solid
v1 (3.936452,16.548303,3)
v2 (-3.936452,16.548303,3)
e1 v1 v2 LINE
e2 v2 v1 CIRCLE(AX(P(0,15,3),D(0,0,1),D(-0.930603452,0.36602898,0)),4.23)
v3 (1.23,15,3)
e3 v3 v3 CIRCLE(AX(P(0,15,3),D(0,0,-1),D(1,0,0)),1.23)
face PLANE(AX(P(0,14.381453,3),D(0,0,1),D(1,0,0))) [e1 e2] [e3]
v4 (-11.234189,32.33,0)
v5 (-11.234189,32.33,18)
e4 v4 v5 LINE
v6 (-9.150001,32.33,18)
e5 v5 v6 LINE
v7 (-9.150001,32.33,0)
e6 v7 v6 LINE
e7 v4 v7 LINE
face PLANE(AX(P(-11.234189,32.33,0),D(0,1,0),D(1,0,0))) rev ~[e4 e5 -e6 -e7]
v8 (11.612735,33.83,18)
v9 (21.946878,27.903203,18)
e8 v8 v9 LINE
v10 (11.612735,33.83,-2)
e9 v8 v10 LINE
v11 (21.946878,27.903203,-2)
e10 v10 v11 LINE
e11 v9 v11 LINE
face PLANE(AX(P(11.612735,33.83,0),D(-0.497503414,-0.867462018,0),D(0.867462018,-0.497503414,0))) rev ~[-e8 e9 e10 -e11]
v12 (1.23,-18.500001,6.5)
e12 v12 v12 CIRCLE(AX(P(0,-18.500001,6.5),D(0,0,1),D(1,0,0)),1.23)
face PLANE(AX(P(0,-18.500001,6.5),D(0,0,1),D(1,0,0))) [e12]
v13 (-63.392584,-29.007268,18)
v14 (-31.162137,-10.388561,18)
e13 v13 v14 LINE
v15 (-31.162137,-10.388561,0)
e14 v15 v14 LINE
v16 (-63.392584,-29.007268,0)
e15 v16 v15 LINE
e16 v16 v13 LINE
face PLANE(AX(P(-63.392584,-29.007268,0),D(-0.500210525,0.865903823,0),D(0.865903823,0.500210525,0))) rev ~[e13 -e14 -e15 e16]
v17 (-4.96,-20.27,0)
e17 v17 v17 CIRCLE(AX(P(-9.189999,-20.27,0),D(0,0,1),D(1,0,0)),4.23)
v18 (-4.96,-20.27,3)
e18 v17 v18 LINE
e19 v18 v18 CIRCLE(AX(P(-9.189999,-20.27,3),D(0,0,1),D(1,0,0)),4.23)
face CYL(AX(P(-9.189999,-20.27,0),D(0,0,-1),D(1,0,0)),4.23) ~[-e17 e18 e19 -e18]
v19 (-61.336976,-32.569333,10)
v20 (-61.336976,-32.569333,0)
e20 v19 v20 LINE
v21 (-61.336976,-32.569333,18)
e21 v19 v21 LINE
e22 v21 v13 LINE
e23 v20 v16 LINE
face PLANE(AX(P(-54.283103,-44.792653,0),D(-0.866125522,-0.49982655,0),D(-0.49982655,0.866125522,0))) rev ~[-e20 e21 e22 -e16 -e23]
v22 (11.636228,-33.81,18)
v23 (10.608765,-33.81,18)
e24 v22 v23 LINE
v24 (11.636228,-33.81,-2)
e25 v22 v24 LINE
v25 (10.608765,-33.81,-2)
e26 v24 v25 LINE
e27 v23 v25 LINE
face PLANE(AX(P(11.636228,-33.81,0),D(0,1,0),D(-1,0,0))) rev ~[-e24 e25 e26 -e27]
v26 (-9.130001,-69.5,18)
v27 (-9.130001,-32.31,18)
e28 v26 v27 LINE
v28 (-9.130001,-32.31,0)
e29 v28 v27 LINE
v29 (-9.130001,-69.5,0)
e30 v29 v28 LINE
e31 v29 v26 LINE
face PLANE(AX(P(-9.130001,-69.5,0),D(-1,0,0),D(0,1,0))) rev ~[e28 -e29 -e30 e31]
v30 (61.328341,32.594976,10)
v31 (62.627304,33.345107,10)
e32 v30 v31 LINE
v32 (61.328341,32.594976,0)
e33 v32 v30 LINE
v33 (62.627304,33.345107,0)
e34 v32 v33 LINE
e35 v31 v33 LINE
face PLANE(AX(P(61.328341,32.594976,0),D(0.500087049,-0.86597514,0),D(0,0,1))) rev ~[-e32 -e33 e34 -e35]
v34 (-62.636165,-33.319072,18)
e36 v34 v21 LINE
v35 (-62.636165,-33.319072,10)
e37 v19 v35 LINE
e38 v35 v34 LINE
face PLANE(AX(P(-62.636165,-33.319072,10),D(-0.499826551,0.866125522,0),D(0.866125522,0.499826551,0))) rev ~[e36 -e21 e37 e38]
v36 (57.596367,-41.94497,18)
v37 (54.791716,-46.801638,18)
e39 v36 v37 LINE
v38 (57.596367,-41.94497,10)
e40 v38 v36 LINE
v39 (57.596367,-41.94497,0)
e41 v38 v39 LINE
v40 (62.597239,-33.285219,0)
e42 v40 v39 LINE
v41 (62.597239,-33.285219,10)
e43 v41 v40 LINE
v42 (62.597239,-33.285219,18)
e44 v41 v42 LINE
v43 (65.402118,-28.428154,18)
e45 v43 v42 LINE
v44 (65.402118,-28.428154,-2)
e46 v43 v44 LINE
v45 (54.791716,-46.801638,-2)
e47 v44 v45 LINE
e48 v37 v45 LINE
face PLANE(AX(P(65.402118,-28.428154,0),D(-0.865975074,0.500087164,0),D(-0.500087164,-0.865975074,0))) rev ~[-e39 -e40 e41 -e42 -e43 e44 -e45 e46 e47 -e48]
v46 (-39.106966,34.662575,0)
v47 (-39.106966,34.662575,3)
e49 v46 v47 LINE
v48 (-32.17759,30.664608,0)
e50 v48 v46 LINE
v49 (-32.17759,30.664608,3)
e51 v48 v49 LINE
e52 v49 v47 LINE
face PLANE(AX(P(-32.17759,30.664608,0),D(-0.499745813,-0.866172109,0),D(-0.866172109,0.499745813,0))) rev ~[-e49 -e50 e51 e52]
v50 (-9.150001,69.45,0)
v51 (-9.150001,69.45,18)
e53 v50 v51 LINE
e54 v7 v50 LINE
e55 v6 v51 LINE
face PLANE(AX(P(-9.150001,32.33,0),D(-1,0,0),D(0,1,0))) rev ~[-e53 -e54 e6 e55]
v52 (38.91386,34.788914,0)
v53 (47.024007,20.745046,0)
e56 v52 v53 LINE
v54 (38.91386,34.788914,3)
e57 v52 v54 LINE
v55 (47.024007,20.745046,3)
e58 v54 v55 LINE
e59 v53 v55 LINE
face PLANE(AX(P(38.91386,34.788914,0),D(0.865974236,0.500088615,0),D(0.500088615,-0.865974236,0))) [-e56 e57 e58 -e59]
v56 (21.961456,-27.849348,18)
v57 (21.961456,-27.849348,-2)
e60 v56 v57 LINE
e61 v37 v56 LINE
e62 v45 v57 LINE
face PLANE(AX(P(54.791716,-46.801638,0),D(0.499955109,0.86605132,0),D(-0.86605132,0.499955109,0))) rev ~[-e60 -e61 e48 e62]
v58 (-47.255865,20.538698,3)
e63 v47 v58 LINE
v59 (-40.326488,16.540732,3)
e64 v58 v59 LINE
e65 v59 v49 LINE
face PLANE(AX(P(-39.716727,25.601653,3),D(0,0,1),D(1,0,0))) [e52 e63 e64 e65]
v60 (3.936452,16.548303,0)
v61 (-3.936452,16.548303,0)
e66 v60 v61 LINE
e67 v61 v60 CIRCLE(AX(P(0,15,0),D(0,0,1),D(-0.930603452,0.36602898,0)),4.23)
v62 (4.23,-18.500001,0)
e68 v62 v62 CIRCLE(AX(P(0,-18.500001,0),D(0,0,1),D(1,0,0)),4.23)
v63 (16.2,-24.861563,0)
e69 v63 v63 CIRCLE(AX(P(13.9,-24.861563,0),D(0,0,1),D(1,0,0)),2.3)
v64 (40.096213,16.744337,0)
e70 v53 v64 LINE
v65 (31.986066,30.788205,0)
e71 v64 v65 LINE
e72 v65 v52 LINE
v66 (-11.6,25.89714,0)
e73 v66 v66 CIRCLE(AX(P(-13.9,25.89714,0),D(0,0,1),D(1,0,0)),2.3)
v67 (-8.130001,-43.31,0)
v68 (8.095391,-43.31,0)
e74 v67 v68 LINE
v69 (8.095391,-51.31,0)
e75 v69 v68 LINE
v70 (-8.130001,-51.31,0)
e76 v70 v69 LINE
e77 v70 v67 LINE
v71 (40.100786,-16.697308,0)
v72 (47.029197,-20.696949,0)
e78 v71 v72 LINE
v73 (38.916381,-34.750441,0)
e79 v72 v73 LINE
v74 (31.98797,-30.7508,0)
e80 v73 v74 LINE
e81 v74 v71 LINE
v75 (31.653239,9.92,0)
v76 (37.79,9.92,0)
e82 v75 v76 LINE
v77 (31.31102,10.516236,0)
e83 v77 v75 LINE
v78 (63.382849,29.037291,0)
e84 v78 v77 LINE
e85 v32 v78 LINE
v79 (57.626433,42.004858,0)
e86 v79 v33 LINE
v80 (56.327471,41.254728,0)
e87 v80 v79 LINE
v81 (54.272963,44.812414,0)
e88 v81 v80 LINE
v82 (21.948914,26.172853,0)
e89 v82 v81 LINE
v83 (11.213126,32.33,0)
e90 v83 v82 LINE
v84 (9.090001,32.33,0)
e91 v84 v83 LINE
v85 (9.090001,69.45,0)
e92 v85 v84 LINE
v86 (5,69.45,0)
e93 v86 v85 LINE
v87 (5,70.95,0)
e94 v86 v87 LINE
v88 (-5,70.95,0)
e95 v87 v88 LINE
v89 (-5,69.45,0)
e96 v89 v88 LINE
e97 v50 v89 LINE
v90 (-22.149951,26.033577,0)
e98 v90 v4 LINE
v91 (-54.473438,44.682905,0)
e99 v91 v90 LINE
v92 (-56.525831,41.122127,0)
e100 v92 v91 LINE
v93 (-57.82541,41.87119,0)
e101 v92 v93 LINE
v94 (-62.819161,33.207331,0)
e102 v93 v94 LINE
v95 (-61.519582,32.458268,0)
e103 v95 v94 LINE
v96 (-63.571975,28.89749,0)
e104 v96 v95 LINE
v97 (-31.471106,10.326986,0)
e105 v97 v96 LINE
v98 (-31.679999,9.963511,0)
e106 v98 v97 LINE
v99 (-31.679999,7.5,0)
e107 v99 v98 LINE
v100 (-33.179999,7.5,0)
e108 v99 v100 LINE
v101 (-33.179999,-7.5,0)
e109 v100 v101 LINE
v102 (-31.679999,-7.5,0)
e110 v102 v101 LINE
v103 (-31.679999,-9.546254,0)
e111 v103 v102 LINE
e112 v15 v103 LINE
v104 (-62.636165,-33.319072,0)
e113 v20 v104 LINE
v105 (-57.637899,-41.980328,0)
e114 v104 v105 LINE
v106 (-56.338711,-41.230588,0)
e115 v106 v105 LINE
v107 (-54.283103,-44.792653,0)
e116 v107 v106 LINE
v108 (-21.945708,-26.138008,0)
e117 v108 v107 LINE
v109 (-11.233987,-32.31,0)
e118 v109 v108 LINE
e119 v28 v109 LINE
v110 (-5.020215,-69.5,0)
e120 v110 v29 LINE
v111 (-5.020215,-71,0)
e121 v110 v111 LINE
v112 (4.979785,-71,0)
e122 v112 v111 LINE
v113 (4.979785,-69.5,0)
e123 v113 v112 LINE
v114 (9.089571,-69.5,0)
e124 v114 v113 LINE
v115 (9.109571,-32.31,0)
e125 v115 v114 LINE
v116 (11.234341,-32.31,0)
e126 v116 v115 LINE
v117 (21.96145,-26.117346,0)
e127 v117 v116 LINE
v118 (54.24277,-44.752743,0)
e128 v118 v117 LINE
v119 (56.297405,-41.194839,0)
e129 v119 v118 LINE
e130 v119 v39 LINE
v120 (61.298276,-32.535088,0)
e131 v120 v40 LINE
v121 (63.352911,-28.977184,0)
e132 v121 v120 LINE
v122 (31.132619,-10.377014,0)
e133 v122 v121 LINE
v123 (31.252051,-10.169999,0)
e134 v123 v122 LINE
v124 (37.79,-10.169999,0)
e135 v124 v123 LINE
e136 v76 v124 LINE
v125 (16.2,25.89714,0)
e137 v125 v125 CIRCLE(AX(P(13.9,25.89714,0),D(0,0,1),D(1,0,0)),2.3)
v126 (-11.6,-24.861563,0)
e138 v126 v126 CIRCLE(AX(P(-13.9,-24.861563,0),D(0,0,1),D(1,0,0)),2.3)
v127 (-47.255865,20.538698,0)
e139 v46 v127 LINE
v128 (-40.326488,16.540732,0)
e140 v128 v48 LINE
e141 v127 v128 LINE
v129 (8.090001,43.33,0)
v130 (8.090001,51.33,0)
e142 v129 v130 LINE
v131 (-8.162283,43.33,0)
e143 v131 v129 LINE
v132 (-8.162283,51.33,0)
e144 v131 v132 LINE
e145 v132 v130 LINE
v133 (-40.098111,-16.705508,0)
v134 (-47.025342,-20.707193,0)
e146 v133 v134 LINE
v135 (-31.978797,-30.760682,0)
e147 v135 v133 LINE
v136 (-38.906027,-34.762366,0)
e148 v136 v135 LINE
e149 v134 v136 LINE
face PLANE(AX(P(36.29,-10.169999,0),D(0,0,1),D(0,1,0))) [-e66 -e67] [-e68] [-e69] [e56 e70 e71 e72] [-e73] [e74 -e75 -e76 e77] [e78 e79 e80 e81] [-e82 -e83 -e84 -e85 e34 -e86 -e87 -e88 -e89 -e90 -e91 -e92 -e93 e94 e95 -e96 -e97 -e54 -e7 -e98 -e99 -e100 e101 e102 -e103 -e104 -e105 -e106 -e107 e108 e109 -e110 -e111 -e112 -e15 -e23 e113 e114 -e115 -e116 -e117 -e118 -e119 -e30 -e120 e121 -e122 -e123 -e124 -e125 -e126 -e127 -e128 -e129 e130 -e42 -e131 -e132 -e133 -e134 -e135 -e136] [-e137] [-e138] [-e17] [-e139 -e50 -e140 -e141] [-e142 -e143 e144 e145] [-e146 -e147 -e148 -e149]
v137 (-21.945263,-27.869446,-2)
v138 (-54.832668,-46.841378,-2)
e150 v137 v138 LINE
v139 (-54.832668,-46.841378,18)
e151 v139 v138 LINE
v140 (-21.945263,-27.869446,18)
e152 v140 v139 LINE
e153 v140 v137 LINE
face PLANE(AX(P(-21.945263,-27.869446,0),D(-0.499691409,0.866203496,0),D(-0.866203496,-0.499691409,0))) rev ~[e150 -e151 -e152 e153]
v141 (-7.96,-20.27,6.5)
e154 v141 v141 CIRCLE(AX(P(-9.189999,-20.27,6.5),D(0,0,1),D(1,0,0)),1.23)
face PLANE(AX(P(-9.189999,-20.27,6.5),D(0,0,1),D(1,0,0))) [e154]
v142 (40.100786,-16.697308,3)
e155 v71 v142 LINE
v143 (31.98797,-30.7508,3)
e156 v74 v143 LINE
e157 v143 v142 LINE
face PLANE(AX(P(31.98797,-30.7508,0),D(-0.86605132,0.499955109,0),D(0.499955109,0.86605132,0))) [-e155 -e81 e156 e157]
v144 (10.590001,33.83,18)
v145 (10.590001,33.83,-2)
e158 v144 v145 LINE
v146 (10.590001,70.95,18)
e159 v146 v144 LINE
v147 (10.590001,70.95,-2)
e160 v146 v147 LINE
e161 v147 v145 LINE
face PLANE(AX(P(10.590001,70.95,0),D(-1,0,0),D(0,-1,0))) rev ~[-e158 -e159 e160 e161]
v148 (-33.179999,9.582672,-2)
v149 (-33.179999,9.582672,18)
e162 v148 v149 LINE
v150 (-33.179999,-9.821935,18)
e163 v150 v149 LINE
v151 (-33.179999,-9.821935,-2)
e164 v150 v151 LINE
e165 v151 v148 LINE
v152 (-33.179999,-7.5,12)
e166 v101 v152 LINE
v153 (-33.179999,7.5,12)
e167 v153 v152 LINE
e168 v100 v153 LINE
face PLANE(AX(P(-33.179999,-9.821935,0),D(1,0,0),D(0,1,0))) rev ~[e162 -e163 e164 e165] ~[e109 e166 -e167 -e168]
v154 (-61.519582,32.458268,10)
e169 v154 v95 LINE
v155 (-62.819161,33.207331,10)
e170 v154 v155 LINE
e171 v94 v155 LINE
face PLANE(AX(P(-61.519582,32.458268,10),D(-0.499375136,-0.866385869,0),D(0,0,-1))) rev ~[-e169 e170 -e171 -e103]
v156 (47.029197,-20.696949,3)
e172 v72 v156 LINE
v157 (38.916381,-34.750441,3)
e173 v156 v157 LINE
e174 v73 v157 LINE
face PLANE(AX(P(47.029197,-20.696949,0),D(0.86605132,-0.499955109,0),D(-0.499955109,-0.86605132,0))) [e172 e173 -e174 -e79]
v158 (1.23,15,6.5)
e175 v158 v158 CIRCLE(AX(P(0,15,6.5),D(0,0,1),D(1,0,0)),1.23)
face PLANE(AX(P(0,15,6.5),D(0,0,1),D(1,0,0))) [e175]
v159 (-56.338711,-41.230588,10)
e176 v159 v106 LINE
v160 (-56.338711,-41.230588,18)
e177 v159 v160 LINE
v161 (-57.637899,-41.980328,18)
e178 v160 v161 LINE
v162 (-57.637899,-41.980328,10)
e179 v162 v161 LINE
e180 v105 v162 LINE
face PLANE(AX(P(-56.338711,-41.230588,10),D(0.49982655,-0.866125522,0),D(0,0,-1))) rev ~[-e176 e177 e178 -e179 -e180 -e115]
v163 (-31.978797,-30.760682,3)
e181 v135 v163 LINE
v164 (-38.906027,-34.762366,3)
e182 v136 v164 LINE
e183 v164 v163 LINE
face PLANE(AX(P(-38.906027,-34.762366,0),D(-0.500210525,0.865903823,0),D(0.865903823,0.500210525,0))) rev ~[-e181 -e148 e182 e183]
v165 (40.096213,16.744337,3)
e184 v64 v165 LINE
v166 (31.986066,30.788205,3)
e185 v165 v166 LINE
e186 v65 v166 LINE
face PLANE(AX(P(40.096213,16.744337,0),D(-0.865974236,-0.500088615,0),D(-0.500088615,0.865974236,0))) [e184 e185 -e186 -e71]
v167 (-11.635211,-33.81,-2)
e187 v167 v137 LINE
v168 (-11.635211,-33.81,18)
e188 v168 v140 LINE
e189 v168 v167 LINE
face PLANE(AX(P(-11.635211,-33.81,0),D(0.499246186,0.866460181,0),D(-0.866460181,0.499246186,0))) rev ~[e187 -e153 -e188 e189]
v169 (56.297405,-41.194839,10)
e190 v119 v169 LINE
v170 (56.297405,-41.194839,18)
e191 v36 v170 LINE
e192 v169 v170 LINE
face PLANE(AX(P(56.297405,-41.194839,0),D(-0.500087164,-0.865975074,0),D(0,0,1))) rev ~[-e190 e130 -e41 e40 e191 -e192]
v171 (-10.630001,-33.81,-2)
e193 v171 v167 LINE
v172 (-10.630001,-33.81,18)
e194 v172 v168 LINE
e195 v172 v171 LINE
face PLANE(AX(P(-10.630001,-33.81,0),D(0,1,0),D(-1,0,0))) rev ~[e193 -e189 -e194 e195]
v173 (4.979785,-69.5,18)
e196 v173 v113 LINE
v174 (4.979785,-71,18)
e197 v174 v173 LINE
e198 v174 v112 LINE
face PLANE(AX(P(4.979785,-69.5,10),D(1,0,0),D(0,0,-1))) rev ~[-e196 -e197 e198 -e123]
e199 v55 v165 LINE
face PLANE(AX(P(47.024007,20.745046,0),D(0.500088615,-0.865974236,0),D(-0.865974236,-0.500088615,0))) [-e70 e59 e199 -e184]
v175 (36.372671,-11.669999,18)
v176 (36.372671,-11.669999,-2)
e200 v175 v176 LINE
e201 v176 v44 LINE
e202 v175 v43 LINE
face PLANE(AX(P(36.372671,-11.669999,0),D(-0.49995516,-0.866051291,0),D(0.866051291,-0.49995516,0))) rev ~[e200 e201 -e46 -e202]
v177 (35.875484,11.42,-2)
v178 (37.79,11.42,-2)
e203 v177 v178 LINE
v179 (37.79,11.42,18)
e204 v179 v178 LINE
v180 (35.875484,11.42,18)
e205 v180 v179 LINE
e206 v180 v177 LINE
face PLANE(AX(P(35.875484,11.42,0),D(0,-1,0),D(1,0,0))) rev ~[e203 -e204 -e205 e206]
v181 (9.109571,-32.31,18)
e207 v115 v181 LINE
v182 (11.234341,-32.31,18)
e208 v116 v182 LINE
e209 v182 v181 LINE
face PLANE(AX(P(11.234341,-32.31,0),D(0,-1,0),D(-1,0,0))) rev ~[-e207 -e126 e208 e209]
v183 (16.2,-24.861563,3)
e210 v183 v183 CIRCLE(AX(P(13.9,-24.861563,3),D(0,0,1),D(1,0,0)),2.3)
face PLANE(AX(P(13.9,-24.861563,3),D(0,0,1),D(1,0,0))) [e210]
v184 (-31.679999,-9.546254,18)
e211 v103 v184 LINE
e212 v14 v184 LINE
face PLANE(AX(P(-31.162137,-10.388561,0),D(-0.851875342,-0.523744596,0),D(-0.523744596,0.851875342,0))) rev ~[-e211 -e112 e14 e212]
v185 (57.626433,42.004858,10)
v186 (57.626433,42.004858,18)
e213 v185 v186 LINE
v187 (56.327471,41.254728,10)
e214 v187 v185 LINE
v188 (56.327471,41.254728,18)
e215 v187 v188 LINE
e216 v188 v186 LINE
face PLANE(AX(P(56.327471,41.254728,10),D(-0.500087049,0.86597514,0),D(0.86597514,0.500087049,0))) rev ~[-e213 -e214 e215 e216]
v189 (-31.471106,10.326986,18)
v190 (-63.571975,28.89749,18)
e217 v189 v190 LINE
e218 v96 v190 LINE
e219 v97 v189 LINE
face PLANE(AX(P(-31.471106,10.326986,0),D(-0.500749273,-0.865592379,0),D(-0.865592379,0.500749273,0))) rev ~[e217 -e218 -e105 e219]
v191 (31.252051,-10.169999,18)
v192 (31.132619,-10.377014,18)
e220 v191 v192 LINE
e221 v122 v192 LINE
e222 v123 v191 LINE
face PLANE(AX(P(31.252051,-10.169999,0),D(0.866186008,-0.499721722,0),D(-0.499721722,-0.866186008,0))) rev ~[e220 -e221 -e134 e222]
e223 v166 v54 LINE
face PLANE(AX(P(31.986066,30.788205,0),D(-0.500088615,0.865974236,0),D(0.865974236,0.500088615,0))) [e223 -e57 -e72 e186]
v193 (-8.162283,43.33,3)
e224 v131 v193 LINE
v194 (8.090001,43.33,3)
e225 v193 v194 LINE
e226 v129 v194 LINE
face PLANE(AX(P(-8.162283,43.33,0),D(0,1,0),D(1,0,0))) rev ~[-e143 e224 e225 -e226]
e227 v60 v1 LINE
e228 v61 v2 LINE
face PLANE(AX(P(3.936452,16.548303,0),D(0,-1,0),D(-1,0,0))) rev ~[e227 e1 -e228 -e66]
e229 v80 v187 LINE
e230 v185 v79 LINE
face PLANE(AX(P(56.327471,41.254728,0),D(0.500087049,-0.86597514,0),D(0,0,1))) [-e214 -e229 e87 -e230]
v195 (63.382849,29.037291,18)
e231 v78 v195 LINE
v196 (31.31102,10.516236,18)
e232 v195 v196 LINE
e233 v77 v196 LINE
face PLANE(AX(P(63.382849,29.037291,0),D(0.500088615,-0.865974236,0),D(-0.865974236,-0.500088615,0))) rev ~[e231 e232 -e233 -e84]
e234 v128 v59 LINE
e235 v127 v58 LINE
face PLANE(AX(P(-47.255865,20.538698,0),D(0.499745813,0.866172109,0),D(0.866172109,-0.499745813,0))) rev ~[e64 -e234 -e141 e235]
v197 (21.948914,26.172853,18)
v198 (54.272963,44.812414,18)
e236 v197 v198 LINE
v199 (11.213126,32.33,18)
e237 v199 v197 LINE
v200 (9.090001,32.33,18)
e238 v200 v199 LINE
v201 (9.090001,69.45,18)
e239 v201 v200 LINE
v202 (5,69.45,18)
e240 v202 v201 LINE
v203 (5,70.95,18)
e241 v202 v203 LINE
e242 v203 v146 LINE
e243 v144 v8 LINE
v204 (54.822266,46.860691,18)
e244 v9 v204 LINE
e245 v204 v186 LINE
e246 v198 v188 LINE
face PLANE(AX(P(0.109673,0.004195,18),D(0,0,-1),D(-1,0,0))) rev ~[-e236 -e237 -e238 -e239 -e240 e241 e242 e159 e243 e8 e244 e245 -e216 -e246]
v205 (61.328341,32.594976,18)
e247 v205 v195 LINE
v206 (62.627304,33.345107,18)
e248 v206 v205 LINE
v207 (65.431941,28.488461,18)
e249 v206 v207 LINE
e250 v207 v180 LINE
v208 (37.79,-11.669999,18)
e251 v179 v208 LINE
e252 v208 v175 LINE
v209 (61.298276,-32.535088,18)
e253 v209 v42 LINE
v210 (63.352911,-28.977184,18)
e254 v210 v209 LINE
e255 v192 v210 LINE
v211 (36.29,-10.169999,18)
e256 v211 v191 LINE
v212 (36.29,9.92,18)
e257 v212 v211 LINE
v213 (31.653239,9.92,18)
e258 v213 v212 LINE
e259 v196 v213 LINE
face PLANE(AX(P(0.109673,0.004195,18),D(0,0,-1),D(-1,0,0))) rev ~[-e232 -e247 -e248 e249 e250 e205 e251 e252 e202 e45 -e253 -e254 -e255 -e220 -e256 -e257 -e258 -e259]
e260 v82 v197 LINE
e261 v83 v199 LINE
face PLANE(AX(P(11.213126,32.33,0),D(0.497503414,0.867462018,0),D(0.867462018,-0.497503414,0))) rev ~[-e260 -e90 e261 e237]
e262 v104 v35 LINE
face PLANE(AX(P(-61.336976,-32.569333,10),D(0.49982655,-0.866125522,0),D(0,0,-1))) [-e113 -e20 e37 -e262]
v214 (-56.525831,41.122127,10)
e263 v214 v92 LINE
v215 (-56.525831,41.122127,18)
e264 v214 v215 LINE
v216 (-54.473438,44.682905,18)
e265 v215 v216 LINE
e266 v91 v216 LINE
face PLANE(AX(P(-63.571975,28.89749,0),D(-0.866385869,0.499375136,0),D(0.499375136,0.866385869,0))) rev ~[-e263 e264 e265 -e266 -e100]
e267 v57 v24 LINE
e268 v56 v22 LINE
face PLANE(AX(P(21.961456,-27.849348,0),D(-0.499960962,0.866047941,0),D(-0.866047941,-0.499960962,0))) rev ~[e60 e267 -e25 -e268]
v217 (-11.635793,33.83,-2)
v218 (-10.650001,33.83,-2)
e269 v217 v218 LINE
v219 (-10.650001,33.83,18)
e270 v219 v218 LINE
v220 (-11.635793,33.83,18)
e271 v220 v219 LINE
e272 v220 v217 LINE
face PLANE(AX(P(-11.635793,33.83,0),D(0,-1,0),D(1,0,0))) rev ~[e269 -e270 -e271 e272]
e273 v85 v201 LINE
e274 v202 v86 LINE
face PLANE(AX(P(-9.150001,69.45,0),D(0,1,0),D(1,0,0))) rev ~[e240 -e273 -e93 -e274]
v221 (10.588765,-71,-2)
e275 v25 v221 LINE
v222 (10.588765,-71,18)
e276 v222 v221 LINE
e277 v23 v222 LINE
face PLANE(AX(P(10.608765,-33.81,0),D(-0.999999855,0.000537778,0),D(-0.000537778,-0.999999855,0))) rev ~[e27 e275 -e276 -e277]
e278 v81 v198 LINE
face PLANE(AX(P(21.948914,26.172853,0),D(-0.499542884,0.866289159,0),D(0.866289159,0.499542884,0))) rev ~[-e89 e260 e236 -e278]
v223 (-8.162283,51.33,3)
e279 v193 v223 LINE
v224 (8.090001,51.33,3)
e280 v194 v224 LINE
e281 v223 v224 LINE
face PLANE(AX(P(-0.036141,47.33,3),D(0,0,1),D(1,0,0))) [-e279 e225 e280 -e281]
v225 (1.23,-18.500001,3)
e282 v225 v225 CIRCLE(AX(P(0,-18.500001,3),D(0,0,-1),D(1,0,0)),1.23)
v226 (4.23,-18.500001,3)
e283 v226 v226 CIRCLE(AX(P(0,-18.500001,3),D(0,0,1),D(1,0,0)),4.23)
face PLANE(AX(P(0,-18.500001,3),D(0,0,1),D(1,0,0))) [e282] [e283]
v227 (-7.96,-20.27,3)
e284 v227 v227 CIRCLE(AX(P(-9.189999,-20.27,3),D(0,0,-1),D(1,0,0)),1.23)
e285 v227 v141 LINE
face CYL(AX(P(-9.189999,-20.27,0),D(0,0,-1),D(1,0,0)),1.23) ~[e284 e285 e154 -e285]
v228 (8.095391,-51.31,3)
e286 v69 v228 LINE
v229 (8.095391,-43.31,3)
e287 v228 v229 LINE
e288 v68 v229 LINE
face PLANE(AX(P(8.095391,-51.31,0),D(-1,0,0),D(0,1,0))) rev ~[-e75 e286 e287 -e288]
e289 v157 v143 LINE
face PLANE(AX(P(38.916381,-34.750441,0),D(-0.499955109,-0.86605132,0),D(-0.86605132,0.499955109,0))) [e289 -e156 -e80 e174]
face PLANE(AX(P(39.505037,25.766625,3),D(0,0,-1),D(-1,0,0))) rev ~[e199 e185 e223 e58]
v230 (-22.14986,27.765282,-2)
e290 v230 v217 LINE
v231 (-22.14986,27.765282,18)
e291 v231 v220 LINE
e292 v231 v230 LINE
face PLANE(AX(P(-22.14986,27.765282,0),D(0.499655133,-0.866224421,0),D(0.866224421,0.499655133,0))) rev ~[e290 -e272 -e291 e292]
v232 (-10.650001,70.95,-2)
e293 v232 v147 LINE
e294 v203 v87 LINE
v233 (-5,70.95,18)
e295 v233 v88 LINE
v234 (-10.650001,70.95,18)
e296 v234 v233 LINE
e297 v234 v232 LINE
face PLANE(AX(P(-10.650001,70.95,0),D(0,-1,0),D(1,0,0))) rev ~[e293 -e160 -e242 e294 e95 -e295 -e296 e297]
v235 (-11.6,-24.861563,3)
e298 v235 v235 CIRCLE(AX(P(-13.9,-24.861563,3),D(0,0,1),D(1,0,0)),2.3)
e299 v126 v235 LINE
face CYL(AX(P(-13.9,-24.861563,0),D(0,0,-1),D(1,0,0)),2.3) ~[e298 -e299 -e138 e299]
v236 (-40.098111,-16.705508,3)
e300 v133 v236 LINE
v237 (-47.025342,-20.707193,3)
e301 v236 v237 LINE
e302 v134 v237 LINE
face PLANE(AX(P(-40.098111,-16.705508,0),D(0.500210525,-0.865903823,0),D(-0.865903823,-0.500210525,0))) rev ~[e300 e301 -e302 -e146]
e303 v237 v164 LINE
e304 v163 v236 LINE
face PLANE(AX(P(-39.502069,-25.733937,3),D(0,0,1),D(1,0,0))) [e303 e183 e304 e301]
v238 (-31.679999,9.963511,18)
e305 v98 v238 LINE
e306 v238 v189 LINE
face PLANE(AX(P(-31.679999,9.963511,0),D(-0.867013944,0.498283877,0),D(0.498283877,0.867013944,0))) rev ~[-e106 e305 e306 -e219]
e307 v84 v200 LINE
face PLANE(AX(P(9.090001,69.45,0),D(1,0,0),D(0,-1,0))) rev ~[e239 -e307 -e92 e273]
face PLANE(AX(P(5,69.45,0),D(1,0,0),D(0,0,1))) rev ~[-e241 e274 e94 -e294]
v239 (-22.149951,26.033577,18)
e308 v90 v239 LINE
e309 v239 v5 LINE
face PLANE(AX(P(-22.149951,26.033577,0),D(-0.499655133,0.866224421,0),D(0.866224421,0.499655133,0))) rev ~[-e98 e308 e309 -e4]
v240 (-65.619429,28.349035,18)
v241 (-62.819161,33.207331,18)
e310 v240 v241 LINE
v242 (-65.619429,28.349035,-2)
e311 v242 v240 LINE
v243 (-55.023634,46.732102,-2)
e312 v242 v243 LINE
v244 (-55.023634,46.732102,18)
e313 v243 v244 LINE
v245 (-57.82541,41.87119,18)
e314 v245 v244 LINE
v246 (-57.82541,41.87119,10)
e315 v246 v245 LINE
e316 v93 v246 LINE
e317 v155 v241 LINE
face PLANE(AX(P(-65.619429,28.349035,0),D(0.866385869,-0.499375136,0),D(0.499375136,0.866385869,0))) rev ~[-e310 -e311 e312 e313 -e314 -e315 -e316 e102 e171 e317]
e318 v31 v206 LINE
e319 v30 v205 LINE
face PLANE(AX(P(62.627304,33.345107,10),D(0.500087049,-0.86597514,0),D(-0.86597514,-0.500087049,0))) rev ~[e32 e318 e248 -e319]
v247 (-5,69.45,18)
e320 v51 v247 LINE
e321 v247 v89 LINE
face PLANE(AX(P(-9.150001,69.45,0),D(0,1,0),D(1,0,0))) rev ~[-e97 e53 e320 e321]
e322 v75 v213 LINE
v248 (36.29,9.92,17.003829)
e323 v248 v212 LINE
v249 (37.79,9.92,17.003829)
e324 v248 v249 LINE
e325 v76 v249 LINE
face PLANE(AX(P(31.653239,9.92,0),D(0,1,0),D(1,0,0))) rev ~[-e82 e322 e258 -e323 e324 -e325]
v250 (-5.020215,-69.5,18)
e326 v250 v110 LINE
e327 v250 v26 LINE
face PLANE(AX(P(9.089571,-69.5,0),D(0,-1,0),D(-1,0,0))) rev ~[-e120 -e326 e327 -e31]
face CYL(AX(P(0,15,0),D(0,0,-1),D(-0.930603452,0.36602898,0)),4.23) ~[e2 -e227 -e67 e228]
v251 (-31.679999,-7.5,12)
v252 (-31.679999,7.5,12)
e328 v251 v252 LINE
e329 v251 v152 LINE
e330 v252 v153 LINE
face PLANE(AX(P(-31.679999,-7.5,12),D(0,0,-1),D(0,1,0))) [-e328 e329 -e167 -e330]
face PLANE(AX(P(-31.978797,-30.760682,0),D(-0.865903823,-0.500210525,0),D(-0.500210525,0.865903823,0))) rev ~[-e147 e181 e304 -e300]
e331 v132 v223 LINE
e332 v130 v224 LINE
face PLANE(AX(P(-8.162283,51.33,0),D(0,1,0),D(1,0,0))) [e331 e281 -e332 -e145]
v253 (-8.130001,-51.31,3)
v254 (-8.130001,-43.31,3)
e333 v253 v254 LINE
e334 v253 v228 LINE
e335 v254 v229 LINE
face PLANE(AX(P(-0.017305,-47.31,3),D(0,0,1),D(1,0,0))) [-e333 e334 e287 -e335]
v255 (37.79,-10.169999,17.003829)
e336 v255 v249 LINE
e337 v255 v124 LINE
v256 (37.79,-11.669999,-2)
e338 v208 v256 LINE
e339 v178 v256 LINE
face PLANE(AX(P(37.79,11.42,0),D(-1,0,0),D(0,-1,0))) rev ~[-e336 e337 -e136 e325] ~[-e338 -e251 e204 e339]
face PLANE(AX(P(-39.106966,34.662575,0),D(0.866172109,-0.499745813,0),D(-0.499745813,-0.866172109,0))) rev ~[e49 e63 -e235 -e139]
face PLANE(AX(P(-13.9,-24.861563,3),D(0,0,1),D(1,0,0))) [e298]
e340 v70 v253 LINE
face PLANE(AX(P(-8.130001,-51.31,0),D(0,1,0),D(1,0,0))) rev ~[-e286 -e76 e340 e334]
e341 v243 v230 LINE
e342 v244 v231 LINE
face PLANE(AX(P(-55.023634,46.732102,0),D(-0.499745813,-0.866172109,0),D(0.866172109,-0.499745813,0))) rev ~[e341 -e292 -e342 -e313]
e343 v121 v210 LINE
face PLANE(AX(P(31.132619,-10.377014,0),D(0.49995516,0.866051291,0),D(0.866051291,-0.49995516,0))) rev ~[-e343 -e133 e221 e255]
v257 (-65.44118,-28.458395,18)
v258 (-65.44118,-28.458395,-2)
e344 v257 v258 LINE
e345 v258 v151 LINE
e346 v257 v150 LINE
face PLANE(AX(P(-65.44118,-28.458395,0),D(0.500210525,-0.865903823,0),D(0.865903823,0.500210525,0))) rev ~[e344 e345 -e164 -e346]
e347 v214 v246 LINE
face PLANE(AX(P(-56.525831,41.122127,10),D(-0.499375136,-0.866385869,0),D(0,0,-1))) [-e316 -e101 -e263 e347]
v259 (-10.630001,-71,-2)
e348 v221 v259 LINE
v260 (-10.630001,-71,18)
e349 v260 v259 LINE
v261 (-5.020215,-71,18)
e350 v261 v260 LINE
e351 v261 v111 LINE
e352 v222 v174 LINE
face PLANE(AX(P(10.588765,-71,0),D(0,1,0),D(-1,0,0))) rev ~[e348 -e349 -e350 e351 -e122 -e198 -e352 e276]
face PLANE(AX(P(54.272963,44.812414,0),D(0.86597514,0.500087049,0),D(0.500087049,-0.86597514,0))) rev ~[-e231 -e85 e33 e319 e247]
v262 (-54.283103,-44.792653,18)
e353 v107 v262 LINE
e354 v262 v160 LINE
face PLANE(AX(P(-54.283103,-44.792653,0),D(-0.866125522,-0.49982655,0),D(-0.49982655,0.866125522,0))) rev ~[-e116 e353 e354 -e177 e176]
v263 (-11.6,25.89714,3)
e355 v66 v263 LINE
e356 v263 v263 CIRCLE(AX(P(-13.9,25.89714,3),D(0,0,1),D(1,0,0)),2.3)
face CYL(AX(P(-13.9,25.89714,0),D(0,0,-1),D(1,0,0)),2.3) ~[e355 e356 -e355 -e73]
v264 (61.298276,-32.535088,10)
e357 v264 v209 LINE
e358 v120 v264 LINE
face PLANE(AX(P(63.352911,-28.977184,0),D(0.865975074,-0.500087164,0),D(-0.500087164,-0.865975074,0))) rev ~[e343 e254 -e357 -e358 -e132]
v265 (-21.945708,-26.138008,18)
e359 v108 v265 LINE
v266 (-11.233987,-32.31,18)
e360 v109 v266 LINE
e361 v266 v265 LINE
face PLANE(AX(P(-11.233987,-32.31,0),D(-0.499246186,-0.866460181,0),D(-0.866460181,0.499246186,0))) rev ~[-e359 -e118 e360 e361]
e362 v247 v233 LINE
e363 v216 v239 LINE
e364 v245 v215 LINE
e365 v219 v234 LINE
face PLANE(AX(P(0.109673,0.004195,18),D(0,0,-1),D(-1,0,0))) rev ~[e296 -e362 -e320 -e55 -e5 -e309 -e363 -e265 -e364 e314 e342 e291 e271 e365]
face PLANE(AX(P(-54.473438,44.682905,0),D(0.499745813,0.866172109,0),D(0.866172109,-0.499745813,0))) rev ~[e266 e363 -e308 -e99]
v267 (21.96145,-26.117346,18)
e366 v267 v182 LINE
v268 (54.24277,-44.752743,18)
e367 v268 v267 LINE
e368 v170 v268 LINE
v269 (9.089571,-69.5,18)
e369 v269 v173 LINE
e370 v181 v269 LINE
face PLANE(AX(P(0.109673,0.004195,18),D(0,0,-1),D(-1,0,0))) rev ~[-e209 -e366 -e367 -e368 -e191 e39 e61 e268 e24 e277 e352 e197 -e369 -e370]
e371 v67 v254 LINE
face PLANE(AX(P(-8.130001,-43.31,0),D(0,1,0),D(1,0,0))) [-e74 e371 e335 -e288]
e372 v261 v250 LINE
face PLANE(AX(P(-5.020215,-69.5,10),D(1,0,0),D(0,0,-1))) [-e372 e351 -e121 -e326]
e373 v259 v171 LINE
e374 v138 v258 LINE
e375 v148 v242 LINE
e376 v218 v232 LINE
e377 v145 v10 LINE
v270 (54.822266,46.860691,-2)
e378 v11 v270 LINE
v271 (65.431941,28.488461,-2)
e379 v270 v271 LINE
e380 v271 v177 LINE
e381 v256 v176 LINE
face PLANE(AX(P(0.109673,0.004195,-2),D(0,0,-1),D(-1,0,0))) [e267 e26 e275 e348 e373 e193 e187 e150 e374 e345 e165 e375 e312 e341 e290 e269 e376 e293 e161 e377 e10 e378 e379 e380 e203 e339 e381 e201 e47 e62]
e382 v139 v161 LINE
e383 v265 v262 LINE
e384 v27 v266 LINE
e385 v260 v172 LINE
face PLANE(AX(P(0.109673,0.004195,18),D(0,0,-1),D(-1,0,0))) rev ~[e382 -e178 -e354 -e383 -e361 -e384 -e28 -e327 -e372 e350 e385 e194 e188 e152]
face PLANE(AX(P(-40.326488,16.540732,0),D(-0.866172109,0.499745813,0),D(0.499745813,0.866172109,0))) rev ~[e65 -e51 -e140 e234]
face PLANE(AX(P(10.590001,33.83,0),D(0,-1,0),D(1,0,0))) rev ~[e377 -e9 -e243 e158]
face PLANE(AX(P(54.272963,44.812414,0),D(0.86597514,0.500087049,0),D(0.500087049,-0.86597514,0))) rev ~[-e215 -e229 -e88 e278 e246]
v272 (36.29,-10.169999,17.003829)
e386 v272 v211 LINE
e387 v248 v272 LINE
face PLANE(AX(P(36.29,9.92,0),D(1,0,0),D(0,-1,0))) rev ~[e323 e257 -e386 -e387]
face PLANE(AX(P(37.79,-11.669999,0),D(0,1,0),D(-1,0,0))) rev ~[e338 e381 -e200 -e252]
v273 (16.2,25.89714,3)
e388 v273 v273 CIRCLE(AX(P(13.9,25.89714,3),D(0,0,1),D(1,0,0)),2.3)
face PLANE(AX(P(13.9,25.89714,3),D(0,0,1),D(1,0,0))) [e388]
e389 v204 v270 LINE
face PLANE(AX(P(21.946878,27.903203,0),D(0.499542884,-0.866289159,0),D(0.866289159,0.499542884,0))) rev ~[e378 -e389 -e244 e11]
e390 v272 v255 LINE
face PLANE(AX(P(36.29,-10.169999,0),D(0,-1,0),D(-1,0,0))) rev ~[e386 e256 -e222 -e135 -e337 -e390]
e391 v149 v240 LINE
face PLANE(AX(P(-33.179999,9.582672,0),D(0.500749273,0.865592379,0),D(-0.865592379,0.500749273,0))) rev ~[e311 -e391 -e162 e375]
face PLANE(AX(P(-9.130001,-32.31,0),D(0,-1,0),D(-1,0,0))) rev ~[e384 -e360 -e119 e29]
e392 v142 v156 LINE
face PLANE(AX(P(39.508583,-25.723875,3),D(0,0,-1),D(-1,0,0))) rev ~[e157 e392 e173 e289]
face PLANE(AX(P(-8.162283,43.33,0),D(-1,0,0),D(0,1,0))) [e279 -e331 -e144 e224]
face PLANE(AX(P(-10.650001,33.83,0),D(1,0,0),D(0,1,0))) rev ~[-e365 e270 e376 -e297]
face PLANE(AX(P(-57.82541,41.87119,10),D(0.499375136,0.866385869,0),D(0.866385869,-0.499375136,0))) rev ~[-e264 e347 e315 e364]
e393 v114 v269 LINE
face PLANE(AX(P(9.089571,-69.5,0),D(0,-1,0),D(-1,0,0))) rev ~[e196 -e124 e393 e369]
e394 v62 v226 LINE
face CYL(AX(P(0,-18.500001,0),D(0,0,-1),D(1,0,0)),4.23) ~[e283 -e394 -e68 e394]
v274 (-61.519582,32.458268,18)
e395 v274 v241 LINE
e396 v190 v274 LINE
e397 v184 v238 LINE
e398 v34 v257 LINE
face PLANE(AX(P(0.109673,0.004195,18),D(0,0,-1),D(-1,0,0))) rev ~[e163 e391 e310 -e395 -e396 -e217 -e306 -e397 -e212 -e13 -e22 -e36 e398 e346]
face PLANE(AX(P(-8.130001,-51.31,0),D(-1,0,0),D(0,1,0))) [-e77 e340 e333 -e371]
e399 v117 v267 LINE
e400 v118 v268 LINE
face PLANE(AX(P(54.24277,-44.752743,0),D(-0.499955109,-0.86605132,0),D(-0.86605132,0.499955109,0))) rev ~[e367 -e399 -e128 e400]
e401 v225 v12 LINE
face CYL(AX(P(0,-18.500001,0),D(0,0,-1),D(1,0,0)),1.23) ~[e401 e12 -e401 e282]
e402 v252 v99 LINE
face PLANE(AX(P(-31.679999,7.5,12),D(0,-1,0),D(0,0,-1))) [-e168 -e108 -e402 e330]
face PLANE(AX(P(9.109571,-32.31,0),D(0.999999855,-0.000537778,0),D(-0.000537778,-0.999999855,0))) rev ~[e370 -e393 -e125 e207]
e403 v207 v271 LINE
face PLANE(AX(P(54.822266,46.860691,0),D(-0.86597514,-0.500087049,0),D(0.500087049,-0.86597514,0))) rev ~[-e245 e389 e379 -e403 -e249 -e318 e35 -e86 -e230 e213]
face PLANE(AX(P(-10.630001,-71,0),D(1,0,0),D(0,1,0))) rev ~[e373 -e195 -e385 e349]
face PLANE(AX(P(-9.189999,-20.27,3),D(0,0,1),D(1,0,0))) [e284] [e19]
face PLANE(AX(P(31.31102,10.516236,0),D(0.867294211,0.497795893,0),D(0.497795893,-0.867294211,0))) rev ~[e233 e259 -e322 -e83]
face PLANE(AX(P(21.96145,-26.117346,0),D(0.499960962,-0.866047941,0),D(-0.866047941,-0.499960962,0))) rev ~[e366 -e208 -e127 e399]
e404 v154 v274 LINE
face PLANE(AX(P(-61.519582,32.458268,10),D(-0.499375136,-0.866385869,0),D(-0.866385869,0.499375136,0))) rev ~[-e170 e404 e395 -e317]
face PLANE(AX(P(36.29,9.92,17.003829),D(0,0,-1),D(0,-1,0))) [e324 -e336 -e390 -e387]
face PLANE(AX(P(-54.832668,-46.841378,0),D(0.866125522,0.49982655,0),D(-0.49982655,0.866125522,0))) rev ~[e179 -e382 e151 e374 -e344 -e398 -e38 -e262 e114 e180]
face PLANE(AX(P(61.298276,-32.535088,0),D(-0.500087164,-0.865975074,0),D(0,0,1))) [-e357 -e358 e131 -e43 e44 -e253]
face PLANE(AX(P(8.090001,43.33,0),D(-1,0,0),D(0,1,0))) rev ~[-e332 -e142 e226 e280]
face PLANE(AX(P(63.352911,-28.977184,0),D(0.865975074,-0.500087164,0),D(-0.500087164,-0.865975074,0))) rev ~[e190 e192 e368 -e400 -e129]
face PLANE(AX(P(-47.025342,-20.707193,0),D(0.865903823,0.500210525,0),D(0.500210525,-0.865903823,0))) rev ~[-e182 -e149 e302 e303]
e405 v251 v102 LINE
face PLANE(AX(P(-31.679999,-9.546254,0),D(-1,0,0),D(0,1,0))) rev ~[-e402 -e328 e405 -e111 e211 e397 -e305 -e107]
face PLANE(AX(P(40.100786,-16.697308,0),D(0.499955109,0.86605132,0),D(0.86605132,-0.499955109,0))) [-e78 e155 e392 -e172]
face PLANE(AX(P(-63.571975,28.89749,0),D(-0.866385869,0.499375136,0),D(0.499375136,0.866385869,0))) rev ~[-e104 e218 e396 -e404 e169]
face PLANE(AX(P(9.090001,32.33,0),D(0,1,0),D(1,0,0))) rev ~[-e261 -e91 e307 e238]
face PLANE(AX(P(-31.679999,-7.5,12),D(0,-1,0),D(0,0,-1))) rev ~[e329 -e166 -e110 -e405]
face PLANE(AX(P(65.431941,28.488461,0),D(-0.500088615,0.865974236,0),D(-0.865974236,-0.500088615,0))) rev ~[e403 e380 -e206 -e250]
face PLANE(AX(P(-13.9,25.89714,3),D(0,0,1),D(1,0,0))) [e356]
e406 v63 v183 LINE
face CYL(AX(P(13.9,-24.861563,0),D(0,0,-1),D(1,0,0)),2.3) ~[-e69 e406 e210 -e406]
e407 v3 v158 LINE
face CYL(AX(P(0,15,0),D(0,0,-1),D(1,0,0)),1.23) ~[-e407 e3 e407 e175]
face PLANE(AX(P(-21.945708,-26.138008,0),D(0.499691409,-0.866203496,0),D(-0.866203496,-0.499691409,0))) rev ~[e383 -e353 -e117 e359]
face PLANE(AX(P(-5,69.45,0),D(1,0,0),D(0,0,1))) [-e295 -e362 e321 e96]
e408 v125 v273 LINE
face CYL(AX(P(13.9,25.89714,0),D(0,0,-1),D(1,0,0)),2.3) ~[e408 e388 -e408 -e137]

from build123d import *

# Parameters (mm, degrees)
AUFSATZ_LINEAR_AUSTRAGEN1_DEPTH = 18
AUFSATZ_LINEAR_AUSTRAGEN2_DEPTH = 2
SCHNITT_LINEAR_AUSTRAGEN1_REACH = 31.142
SCHNITT_LINEAR_AUSTRAGEN2_REACH = 35.939
SKIZZE5_W                       = 12
SKIZZE5_H                       = 15
SKIZZE7_R                       = 1.22999984
AUFSATZ_LINEAR_AUSTRAGEN3_DEPTH = 6.5
SKIZZE8_R                       = 4.22999984
SKIZZE8_R_2                     = 2.3
AUFSATZ_LINEAR_AUSTRAGEN4_DEPTH = 3
SKIZZE9_W                       = 16.252283896
SKIZZE9_H                       = 8
SKIZZE9_W_2                     = 16.225392475
AUFSATZ_LINEAR_AUSTRAGEN7_DEPTH = 3
SCHNITT_LINEAR_AUSTRAGEN3_REACH = 3.5
SKIZZE11_W                      = 10
SKIZZE11_H                      = 10
SCHNITT_LINEAR_AUSTRAGEN4_REACH = 24.734
SKIZZE13_W                      = 10
SKIZZE13_H                      = 10
SCHNITT_LINEAR_AUSTRAGEN5_REACH = 24.815
SKIZZE14_W                      = 10
SKIZZE14_H                      = 10
SCHNITT_LINEAR_AUSTRAGEN6_REACH = 3.5
SKIZZE15_W                      = 10
SKIZZE15_H                      = 10
SCHNITT_LINEAR_AUSTRAGEN7_REACH = 24.918
SKIZZE16_W                      = 10
SKIZZE16_H                      = 10
SCHNITT_LINEAR_AUSTRAGEN8_REACH = 24.774
SKIZZE17_W                      = 10
SKIZZE17_H                      = 10
SKIZZE18_W                      = 10
SKIZZE18_H                      = 1.5
SCHNITT_LINEAR_AUSTRAGEN9_DEPTH = 8


with BuildPart() as part:
    # Skizze1 → Aufsatz-Linear austragen1 (new body)
    with BuildSketch(Plane.XY):
        Polygon((-22.149859894, 27.765281808), (-11.635793215, 33.83000044), (-10.65000108, 33.83000044), (-10.65000108, 70.94999986), (10.5900012, 70.94999986), (10.5900012, 33.83000044), (11.612735063, 33.83000044), (21.946878227, 27.90320319), (54.822266278, 46.860690996), (65.431940836, 28.488460753), (35.875483821, 11.41999954), (37.79000014, 11.41999954), (37.79000014, -11.66999904), (36.372671479, -11.66999904), (65.402118422, -28.428154068), (54.791716349, -46.801638497), (21.961456264, -27.849347945), (11.636228403, -33.81000048), (10.608764603, -33.81000048), (10.588764643, -70.99999976), (-10.63000112, -70.99999976), (-10.63000112, -33.81000048), (-11.635211495, -33.81000048), (-21.94526311, -27.869445957), (-54.832668225, -46.841377939), (-65.441180026, -28.458395245), (-33.1799992, -9.82193495), (-33.1799992, 9.582671858), (-65.619428736, 28.349034811), (-55.023633975, 46.732102334), align=None)
        Polygon((-22.149950537, 26.033576659), (-11.234189479, 32.33000044), (-9.15000108, 32.33000044), (-9.15000108, 69.44999986), (9.0900012, 69.44999986), (9.0900012, 32.33000044), (11.2131258, 32.33000044), (21.948913697, 26.172853479), (54.272963006, 44.812413555), (63.382848908, 29.03729054), (31.311020441, 10.516235735), (31.653238716, 9.91999954), (36.29000014, 9.91999954), (36.29000014, -10.16999904), (31.252050971, -10.16999904), (31.132619329, -10.37701429), (63.352910716, -28.977183946), (54.242770108, -44.752743199), (21.961450411, -26.11734559), (11.234340849, -32.31000048), (9.109571053, -32.31000048), (9.089571093, -69.49999976), (-9.13000112, -69.49999976), (-9.13000112, -32.31000048), (-11.233987142, -32.31000048), (-21.945708018, -26.138007916), (-54.2831028, -44.792652518), (-63.392584266, -29.007267794), (-31.162137007, -10.388561496), (-31.6799992, -9.546253935), (-31.6799992, 9.963511331), (-31.471105622, 10.326986156), (-63.571974887, 28.897490395), (-54.473438465, 44.682904625), align=None, mode=Mode.SUBTRACT)
    extrude(amount=AUFSATZ_LINEAR_AUSTRAGEN1_DEPTH)

    # Skizze3 → Aufsatz-Linear austragen2 (add)
    with BuildSketch(Plane(origin=(0, 0, 0), x_dir=(-1, 0, 0), z_dir=(0, 0, -1))):
        Polygon((55.023633975, 46.732102334), (22.149859894, 27.765281808), (11.635793215, 33.83000044), (10.65000108, 33.83000044), (10.65000108, 70.94999986), (-10.5900012, 70.94999986), (-10.5900012, 33.83000044), (-11.612735063, 33.83000044), (-21.946878227, 27.90320319), (-54.822266278, 46.860690996), (-65.431940836, 28.488460753), (-35.875483821, 11.41999954), (-37.79000014, 11.41999954), (-37.79000014, -11.66999904), (-36.372671479, -11.66999904), (-65.402118422, -28.428154068), (-54.791716349, -46.801638497), (-21.961456264, -27.849347945), (-11.636228403, -33.81000048), (-10.608764603, -33.81000048), (-10.588764643, -70.99999976), (10.63000112, -70.99999976), (10.63000112, -33.81000048), (11.635211495, -33.81000048), (21.94526311, -27.869445957), (54.832668225, -46.841377939), (65.441180026, -28.458395245), (33.1799992, -9.82193495), (33.1799992, 9.582671858), (65.619428736, 28.349034811), align=None)
    extrude(amount=AUFSATZ_LINEAR_AUSTRAGEN2_DEPTH)

    # Skizze4 → Schnitt-Linear austragen1 (cut, up to next)
    with BuildSketch(Plane.ZY.offset(-36.29000014), mode=Mode.PRIVATE) as schnitt_linear_austragen1_sk1:
        Polygon((17.00382914, 9.91999954), (17.00382914, -10.16999904), (0.851260669, -10.16999904), (0, -10.16999904), (0, 9.91999954), (0.851260669, 9.91999954), align=None)
    schnitt_linear_austragen1_tool1 = extrude(schnitt_linear_austragen1_sk1.sketch, amount=-SCHNITT_LINEAR_AUSTRAGEN1_REACH, mode=Mode.PRIVATE) & part.part
    add(schnitt_linear_austragen1_tool1.solids().sort_by_distance((36.29, -0.125, 8.501915))[0], mode=Mode.SUBTRACT)

    # Skizze5 → Schnitt-Linear austragen2 (cut, up to next)
    with BuildSketch(Plane(origin=(-31.6799992, 0, 0), x_dir=(0, 0, -1), z_dir=(1, 0, 0)), mode=Mode.PRIVATE) as schnitt_linear_austragen2_sk1:
        with Locations((-6, 0)):
            Rectangle(SKIZZE5_W, SKIZZE5_H)
    schnitt_linear_austragen2_tool1 = extrude(schnitt_linear_austragen2_sk1.sketch, amount=-SCHNITT_LINEAR_AUSTRAGEN2_REACH, mode=Mode.PRIVATE) & part.part
    add(schnitt_linear_austragen2_tool1.solids().sort_by_distance((-31.679999, 0, 6))[0], mode=Mode.SUBTRACT)

    # Skizze7 → Aufsatz-Linear austragen3 (add)
    with BuildSketch(Plane.XY):
        with Locations((0, 15.00000048)):
            Circle(SKIZZE7_R)
        with Locations((0, -18.5000011)):
            Circle(SKIZZE7_R)
        with Locations((-9.1899994, -20.2700001)):
            Circle(SKIZZE7_R)
    extrude(amount=AUFSATZ_LINEAR_AUSTRAGEN3_DEPTH)

    # Skizze8 → Aufsatz-Linear austragen4 (add)
    with BuildSketch(Plane.XY):
        with Locations((-9.1899994, -20.2700001)):
            Circle(SKIZZE8_R)
        with Locations((0, -18.5000011)):
            Circle(SKIZZE8_R)
        with Locations((13.9, 25.897140228)):
            Circle(SKIZZE8_R_2)
        with Locations((-13.9, 25.897140228)):
            Circle(SKIZZE8_R_2)
        with Locations((13.9, -24.8615628)):
            Circle(SKIZZE8_R_2)
        with Locations((-13.9, -24.8615628)):
            Circle(SKIZZE8_R_2)
        with BuildLine():
            Line((3.936452455, 16.548303007), (-3.936452455, 16.548303007))
            ThreePointArc((-3.936452455, 16.548303007), (0, 10.77000064), (3.936452455, 16.548303007))
        make_face()
    extrude(amount=AUFSATZ_LINEAR_AUSTRAGEN4_DEPTH)

    # Skizze9 → Aufsatz-Linear austragen7 (add)
    with BuildSketch(Plane.XY):
        Polygon((-39.106966425, 34.662574989), (-47.255864546, 20.538698219), (-40.326487672, 16.540731718), (-32.177589551, 30.664608488), align=None)
        with Locations((-0.036140748, 47.33000044)):
            Rectangle(SKIZZE9_W, SKIZZE9_H)
        Polygon((40.096213315, 16.744336658), (31.986065924, 30.788205039), (38.913859811, 34.78891396), (47.024007202, 20.745045579), align=None)
        Polygon((40.10078632, -16.697308213), (47.029196881, -20.696949084), (38.916380603, -34.750441337), (31.987970041, -30.750800466), align=None)
        with Locations((-0.017304883, -47.31000048)):
            Rectangle(SKIZZE9_W_2, SKIZZE9_H)
        Polygon((-38.906027405, -34.762365837), (-31.978796823, -30.760681634), (-40.098111463, -16.705508406), (-47.025342045, -20.70719261), align=None)
    extrude(amount=AUFSATZ_LINEAR_AUSTRAGEN7_DEPTH)

    # Skizze11 → Schnitt-Linear austragen3 (cut, up to next)
    with BuildSketch(Plane.XZ.offset(-69.44999986), mode=Mode.PRIVATE) as schnitt_linear_austragen3_sk1:
        with Locations((0, 5)):
            Rectangle(SKIZZE11_W, SKIZZE11_H)
    schnitt_linear_austragen3_tool1 = extrude(schnitt_linear_austragen3_sk1.sketch, amount=-SCHNITT_LINEAR_AUSTRAGEN3_REACH, mode=Mode.PRIVATE) & part.part
    add(schnitt_linear_austragen3_tool1.solids().sort_by_distance((0, 69.45, 5))[0], mode=Mode.SUBTRACT)

    # Skizze13 → Schnitt-Linear austragen4 (cut, up to next)
    with BuildSketch(Plane(origin=(60.106593545, 34.710614216, 0), x_dir=(0, 0, 1), z_dir=(-0.86597514, -0.500087049, 0)), mode=Mode.PRIVATE) as schnitt_linear_austragen4_sk1:
        with Locations((5, 2.556930019)):
            Rectangle(SKIZZE13_W, SKIZZE13_H)
    schnitt_linear_austragen4_tool1 = extrude(schnitt_linear_austragen4_sk1.sketch, amount=-SCHNITT_LINEAR_AUSTRAGEN4_REACH, mode=Mode.PRIVATE) & part.part
    add(schnitt_linear_austragen4_tool1.solids().sort_by_distance((58.827906, 36.924852, 5))[0], mode=Mode.SUBTRACT)

    # Skizze14 → Schnitt-Linear austragen5 (cut, up to next)
    with BuildSketch(Plane(origin=(60.058107222, -34.682624727, 0), x_dir=(0, 0, 1), z_dir=(-0.865975074, 0.500087164, 0)), mode=Mode.PRIVATE) as schnitt_linear_austragen5_sk1:
        with Locations((5, -2.520094297)):
            Rectangle(SKIZZE14_W, SKIZZE14_H)
    schnitt_linear_austragen5_tool1 = extrude(schnitt_linear_austragen5_sk1.sketch, amount=-SCHNITT_LINEAR_AUSTRAGEN5_REACH, mode=Mode.PRIVATE) & part.part
    add(schnitt_linear_austragen5_tool1.solids().sort_by_distance((58.79784, -36.864964, 5))[0], mode=Mode.SUBTRACT)

    # Skizze15 → Schnitt-Linear austragen6 (cut, up to next)
    with BuildSketch(Plane(origin=(0, -69.49999976, 0), x_dir=(1, 0, 0), z_dir=(0, 1, 0)), mode=Mode.PRIVATE) as schnitt_linear_austragen6_sk1:
        with Locations((-0.020215013, -5)):
            Rectangle(SKIZZE15_W, SKIZZE15_H)
    schnitt_linear_austragen6_tool1 = extrude(schnitt_linear_austragen6_sk1.sketch, amount=-SCHNITT_LINEAR_AUSTRAGEN6_REACH, mode=Mode.PRIVATE) & part.part
    add(schnitt_linear_austragen6_tool1.solids().sort_by_distance((-0.020215, -69.5, 5))[0], mode=Mode.SUBTRACT)

    # Skizze16 → Schnitt-Linear austragen7 (cut, up to next)
    with BuildSketch(Plane(origin=(-60.113041463, -34.690230655, 0), x_dir=(0, 0, -1), z_dir=(0.866125522, 0.49982655, 0)), mode=Mode.PRIVATE) as schnitt_linear_austragen7_sk1:
        with Locations((-5, -2.551280899)):
            Rectangle(SKIZZE16_W, SKIZZE16_H)
    schnitt_linear_austragen7_tool1 = extrude(schnitt_linear_austragen7_sk1.sketch, amount=-SCHNITT_LINEAR_AUSTRAGEN7_REACH, mode=Mode.PRIVATE) & part.part
    add(schnitt_linear_austragen7_tool1.solids().sort_by_distance((-58.837844, -36.89996, 5))[0], mode=Mode.SUBTRACT)

    # Skizze17 → Schnitt-Linear austragen8 (cut, up to next)
    with BuildSketch(Plane(origin=(-60.221224503, 34.710841064, 0), x_dir=(0, 0, -1), z_dir=(0.866385869, -0.499375136, 0)), mode=Mode.PRIVATE) as schnitt_linear_austragen8_sk1:
        with Locations((-5, 2.400035044)):
            Rectangle(SKIZZE17_W, SKIZZE17_H)
    schnitt_linear_austragen8_tool1 = extrude(schnitt_linear_austragen8_sk1.sketch, amount=-SCHNITT_LINEAR_AUSTRAGEN8_REACH, mode=Mode.PRIVATE) & part.part
    add(schnitt_linear_austragen8_tool1.solids().sort_by_distance((-59.022707, 36.790198, 5))[0], mode=Mode.SUBTRACT)

    # Skizze18 → Schnitt-Linear austragen9 (cut)
    with BuildSketch(Plane(origin=(0, 0, 10), x_dir=(-1, 0, 0), z_dir=(0, 0, -1))):
        Polygon((-62.597238843, -33.285218949), (-57.596367204, -41.944969687), (-56.297404593, -41.194838941), (-61.298276232, -32.535088203), align=None)
        with Locations((0.020215013, -70.24999976)):
            Rectangle(SKIZZE18_W, SKIZZE18_H)
        Polygon((57.637899065, -41.980327591), (62.636164566, -33.319072372), (61.336976284, -32.569332546), (56.338710782, -41.230587766), align=None)
        Polygon((62.81916116, 33.207330871), (57.825409798, 41.871189557), (56.525830995, 41.122126853), (61.519582357, 32.458268167), align=None)
        with Locations((0, 70.19999986)):
            Rectangle(SKIZZE18_W, SKIZZE18_H)
        Polygon((-57.626433421, 42.004858322), (-62.627303913, 33.345106921), (-61.328341203, 32.594976347), (-56.327470711, 41.254727748), align=None)
    extrude(amount=-SCHNITT_LINEAR_AUSTRAGEN9_DEPTH, mode=Mode.SUBTRACT)


solid = part.part
